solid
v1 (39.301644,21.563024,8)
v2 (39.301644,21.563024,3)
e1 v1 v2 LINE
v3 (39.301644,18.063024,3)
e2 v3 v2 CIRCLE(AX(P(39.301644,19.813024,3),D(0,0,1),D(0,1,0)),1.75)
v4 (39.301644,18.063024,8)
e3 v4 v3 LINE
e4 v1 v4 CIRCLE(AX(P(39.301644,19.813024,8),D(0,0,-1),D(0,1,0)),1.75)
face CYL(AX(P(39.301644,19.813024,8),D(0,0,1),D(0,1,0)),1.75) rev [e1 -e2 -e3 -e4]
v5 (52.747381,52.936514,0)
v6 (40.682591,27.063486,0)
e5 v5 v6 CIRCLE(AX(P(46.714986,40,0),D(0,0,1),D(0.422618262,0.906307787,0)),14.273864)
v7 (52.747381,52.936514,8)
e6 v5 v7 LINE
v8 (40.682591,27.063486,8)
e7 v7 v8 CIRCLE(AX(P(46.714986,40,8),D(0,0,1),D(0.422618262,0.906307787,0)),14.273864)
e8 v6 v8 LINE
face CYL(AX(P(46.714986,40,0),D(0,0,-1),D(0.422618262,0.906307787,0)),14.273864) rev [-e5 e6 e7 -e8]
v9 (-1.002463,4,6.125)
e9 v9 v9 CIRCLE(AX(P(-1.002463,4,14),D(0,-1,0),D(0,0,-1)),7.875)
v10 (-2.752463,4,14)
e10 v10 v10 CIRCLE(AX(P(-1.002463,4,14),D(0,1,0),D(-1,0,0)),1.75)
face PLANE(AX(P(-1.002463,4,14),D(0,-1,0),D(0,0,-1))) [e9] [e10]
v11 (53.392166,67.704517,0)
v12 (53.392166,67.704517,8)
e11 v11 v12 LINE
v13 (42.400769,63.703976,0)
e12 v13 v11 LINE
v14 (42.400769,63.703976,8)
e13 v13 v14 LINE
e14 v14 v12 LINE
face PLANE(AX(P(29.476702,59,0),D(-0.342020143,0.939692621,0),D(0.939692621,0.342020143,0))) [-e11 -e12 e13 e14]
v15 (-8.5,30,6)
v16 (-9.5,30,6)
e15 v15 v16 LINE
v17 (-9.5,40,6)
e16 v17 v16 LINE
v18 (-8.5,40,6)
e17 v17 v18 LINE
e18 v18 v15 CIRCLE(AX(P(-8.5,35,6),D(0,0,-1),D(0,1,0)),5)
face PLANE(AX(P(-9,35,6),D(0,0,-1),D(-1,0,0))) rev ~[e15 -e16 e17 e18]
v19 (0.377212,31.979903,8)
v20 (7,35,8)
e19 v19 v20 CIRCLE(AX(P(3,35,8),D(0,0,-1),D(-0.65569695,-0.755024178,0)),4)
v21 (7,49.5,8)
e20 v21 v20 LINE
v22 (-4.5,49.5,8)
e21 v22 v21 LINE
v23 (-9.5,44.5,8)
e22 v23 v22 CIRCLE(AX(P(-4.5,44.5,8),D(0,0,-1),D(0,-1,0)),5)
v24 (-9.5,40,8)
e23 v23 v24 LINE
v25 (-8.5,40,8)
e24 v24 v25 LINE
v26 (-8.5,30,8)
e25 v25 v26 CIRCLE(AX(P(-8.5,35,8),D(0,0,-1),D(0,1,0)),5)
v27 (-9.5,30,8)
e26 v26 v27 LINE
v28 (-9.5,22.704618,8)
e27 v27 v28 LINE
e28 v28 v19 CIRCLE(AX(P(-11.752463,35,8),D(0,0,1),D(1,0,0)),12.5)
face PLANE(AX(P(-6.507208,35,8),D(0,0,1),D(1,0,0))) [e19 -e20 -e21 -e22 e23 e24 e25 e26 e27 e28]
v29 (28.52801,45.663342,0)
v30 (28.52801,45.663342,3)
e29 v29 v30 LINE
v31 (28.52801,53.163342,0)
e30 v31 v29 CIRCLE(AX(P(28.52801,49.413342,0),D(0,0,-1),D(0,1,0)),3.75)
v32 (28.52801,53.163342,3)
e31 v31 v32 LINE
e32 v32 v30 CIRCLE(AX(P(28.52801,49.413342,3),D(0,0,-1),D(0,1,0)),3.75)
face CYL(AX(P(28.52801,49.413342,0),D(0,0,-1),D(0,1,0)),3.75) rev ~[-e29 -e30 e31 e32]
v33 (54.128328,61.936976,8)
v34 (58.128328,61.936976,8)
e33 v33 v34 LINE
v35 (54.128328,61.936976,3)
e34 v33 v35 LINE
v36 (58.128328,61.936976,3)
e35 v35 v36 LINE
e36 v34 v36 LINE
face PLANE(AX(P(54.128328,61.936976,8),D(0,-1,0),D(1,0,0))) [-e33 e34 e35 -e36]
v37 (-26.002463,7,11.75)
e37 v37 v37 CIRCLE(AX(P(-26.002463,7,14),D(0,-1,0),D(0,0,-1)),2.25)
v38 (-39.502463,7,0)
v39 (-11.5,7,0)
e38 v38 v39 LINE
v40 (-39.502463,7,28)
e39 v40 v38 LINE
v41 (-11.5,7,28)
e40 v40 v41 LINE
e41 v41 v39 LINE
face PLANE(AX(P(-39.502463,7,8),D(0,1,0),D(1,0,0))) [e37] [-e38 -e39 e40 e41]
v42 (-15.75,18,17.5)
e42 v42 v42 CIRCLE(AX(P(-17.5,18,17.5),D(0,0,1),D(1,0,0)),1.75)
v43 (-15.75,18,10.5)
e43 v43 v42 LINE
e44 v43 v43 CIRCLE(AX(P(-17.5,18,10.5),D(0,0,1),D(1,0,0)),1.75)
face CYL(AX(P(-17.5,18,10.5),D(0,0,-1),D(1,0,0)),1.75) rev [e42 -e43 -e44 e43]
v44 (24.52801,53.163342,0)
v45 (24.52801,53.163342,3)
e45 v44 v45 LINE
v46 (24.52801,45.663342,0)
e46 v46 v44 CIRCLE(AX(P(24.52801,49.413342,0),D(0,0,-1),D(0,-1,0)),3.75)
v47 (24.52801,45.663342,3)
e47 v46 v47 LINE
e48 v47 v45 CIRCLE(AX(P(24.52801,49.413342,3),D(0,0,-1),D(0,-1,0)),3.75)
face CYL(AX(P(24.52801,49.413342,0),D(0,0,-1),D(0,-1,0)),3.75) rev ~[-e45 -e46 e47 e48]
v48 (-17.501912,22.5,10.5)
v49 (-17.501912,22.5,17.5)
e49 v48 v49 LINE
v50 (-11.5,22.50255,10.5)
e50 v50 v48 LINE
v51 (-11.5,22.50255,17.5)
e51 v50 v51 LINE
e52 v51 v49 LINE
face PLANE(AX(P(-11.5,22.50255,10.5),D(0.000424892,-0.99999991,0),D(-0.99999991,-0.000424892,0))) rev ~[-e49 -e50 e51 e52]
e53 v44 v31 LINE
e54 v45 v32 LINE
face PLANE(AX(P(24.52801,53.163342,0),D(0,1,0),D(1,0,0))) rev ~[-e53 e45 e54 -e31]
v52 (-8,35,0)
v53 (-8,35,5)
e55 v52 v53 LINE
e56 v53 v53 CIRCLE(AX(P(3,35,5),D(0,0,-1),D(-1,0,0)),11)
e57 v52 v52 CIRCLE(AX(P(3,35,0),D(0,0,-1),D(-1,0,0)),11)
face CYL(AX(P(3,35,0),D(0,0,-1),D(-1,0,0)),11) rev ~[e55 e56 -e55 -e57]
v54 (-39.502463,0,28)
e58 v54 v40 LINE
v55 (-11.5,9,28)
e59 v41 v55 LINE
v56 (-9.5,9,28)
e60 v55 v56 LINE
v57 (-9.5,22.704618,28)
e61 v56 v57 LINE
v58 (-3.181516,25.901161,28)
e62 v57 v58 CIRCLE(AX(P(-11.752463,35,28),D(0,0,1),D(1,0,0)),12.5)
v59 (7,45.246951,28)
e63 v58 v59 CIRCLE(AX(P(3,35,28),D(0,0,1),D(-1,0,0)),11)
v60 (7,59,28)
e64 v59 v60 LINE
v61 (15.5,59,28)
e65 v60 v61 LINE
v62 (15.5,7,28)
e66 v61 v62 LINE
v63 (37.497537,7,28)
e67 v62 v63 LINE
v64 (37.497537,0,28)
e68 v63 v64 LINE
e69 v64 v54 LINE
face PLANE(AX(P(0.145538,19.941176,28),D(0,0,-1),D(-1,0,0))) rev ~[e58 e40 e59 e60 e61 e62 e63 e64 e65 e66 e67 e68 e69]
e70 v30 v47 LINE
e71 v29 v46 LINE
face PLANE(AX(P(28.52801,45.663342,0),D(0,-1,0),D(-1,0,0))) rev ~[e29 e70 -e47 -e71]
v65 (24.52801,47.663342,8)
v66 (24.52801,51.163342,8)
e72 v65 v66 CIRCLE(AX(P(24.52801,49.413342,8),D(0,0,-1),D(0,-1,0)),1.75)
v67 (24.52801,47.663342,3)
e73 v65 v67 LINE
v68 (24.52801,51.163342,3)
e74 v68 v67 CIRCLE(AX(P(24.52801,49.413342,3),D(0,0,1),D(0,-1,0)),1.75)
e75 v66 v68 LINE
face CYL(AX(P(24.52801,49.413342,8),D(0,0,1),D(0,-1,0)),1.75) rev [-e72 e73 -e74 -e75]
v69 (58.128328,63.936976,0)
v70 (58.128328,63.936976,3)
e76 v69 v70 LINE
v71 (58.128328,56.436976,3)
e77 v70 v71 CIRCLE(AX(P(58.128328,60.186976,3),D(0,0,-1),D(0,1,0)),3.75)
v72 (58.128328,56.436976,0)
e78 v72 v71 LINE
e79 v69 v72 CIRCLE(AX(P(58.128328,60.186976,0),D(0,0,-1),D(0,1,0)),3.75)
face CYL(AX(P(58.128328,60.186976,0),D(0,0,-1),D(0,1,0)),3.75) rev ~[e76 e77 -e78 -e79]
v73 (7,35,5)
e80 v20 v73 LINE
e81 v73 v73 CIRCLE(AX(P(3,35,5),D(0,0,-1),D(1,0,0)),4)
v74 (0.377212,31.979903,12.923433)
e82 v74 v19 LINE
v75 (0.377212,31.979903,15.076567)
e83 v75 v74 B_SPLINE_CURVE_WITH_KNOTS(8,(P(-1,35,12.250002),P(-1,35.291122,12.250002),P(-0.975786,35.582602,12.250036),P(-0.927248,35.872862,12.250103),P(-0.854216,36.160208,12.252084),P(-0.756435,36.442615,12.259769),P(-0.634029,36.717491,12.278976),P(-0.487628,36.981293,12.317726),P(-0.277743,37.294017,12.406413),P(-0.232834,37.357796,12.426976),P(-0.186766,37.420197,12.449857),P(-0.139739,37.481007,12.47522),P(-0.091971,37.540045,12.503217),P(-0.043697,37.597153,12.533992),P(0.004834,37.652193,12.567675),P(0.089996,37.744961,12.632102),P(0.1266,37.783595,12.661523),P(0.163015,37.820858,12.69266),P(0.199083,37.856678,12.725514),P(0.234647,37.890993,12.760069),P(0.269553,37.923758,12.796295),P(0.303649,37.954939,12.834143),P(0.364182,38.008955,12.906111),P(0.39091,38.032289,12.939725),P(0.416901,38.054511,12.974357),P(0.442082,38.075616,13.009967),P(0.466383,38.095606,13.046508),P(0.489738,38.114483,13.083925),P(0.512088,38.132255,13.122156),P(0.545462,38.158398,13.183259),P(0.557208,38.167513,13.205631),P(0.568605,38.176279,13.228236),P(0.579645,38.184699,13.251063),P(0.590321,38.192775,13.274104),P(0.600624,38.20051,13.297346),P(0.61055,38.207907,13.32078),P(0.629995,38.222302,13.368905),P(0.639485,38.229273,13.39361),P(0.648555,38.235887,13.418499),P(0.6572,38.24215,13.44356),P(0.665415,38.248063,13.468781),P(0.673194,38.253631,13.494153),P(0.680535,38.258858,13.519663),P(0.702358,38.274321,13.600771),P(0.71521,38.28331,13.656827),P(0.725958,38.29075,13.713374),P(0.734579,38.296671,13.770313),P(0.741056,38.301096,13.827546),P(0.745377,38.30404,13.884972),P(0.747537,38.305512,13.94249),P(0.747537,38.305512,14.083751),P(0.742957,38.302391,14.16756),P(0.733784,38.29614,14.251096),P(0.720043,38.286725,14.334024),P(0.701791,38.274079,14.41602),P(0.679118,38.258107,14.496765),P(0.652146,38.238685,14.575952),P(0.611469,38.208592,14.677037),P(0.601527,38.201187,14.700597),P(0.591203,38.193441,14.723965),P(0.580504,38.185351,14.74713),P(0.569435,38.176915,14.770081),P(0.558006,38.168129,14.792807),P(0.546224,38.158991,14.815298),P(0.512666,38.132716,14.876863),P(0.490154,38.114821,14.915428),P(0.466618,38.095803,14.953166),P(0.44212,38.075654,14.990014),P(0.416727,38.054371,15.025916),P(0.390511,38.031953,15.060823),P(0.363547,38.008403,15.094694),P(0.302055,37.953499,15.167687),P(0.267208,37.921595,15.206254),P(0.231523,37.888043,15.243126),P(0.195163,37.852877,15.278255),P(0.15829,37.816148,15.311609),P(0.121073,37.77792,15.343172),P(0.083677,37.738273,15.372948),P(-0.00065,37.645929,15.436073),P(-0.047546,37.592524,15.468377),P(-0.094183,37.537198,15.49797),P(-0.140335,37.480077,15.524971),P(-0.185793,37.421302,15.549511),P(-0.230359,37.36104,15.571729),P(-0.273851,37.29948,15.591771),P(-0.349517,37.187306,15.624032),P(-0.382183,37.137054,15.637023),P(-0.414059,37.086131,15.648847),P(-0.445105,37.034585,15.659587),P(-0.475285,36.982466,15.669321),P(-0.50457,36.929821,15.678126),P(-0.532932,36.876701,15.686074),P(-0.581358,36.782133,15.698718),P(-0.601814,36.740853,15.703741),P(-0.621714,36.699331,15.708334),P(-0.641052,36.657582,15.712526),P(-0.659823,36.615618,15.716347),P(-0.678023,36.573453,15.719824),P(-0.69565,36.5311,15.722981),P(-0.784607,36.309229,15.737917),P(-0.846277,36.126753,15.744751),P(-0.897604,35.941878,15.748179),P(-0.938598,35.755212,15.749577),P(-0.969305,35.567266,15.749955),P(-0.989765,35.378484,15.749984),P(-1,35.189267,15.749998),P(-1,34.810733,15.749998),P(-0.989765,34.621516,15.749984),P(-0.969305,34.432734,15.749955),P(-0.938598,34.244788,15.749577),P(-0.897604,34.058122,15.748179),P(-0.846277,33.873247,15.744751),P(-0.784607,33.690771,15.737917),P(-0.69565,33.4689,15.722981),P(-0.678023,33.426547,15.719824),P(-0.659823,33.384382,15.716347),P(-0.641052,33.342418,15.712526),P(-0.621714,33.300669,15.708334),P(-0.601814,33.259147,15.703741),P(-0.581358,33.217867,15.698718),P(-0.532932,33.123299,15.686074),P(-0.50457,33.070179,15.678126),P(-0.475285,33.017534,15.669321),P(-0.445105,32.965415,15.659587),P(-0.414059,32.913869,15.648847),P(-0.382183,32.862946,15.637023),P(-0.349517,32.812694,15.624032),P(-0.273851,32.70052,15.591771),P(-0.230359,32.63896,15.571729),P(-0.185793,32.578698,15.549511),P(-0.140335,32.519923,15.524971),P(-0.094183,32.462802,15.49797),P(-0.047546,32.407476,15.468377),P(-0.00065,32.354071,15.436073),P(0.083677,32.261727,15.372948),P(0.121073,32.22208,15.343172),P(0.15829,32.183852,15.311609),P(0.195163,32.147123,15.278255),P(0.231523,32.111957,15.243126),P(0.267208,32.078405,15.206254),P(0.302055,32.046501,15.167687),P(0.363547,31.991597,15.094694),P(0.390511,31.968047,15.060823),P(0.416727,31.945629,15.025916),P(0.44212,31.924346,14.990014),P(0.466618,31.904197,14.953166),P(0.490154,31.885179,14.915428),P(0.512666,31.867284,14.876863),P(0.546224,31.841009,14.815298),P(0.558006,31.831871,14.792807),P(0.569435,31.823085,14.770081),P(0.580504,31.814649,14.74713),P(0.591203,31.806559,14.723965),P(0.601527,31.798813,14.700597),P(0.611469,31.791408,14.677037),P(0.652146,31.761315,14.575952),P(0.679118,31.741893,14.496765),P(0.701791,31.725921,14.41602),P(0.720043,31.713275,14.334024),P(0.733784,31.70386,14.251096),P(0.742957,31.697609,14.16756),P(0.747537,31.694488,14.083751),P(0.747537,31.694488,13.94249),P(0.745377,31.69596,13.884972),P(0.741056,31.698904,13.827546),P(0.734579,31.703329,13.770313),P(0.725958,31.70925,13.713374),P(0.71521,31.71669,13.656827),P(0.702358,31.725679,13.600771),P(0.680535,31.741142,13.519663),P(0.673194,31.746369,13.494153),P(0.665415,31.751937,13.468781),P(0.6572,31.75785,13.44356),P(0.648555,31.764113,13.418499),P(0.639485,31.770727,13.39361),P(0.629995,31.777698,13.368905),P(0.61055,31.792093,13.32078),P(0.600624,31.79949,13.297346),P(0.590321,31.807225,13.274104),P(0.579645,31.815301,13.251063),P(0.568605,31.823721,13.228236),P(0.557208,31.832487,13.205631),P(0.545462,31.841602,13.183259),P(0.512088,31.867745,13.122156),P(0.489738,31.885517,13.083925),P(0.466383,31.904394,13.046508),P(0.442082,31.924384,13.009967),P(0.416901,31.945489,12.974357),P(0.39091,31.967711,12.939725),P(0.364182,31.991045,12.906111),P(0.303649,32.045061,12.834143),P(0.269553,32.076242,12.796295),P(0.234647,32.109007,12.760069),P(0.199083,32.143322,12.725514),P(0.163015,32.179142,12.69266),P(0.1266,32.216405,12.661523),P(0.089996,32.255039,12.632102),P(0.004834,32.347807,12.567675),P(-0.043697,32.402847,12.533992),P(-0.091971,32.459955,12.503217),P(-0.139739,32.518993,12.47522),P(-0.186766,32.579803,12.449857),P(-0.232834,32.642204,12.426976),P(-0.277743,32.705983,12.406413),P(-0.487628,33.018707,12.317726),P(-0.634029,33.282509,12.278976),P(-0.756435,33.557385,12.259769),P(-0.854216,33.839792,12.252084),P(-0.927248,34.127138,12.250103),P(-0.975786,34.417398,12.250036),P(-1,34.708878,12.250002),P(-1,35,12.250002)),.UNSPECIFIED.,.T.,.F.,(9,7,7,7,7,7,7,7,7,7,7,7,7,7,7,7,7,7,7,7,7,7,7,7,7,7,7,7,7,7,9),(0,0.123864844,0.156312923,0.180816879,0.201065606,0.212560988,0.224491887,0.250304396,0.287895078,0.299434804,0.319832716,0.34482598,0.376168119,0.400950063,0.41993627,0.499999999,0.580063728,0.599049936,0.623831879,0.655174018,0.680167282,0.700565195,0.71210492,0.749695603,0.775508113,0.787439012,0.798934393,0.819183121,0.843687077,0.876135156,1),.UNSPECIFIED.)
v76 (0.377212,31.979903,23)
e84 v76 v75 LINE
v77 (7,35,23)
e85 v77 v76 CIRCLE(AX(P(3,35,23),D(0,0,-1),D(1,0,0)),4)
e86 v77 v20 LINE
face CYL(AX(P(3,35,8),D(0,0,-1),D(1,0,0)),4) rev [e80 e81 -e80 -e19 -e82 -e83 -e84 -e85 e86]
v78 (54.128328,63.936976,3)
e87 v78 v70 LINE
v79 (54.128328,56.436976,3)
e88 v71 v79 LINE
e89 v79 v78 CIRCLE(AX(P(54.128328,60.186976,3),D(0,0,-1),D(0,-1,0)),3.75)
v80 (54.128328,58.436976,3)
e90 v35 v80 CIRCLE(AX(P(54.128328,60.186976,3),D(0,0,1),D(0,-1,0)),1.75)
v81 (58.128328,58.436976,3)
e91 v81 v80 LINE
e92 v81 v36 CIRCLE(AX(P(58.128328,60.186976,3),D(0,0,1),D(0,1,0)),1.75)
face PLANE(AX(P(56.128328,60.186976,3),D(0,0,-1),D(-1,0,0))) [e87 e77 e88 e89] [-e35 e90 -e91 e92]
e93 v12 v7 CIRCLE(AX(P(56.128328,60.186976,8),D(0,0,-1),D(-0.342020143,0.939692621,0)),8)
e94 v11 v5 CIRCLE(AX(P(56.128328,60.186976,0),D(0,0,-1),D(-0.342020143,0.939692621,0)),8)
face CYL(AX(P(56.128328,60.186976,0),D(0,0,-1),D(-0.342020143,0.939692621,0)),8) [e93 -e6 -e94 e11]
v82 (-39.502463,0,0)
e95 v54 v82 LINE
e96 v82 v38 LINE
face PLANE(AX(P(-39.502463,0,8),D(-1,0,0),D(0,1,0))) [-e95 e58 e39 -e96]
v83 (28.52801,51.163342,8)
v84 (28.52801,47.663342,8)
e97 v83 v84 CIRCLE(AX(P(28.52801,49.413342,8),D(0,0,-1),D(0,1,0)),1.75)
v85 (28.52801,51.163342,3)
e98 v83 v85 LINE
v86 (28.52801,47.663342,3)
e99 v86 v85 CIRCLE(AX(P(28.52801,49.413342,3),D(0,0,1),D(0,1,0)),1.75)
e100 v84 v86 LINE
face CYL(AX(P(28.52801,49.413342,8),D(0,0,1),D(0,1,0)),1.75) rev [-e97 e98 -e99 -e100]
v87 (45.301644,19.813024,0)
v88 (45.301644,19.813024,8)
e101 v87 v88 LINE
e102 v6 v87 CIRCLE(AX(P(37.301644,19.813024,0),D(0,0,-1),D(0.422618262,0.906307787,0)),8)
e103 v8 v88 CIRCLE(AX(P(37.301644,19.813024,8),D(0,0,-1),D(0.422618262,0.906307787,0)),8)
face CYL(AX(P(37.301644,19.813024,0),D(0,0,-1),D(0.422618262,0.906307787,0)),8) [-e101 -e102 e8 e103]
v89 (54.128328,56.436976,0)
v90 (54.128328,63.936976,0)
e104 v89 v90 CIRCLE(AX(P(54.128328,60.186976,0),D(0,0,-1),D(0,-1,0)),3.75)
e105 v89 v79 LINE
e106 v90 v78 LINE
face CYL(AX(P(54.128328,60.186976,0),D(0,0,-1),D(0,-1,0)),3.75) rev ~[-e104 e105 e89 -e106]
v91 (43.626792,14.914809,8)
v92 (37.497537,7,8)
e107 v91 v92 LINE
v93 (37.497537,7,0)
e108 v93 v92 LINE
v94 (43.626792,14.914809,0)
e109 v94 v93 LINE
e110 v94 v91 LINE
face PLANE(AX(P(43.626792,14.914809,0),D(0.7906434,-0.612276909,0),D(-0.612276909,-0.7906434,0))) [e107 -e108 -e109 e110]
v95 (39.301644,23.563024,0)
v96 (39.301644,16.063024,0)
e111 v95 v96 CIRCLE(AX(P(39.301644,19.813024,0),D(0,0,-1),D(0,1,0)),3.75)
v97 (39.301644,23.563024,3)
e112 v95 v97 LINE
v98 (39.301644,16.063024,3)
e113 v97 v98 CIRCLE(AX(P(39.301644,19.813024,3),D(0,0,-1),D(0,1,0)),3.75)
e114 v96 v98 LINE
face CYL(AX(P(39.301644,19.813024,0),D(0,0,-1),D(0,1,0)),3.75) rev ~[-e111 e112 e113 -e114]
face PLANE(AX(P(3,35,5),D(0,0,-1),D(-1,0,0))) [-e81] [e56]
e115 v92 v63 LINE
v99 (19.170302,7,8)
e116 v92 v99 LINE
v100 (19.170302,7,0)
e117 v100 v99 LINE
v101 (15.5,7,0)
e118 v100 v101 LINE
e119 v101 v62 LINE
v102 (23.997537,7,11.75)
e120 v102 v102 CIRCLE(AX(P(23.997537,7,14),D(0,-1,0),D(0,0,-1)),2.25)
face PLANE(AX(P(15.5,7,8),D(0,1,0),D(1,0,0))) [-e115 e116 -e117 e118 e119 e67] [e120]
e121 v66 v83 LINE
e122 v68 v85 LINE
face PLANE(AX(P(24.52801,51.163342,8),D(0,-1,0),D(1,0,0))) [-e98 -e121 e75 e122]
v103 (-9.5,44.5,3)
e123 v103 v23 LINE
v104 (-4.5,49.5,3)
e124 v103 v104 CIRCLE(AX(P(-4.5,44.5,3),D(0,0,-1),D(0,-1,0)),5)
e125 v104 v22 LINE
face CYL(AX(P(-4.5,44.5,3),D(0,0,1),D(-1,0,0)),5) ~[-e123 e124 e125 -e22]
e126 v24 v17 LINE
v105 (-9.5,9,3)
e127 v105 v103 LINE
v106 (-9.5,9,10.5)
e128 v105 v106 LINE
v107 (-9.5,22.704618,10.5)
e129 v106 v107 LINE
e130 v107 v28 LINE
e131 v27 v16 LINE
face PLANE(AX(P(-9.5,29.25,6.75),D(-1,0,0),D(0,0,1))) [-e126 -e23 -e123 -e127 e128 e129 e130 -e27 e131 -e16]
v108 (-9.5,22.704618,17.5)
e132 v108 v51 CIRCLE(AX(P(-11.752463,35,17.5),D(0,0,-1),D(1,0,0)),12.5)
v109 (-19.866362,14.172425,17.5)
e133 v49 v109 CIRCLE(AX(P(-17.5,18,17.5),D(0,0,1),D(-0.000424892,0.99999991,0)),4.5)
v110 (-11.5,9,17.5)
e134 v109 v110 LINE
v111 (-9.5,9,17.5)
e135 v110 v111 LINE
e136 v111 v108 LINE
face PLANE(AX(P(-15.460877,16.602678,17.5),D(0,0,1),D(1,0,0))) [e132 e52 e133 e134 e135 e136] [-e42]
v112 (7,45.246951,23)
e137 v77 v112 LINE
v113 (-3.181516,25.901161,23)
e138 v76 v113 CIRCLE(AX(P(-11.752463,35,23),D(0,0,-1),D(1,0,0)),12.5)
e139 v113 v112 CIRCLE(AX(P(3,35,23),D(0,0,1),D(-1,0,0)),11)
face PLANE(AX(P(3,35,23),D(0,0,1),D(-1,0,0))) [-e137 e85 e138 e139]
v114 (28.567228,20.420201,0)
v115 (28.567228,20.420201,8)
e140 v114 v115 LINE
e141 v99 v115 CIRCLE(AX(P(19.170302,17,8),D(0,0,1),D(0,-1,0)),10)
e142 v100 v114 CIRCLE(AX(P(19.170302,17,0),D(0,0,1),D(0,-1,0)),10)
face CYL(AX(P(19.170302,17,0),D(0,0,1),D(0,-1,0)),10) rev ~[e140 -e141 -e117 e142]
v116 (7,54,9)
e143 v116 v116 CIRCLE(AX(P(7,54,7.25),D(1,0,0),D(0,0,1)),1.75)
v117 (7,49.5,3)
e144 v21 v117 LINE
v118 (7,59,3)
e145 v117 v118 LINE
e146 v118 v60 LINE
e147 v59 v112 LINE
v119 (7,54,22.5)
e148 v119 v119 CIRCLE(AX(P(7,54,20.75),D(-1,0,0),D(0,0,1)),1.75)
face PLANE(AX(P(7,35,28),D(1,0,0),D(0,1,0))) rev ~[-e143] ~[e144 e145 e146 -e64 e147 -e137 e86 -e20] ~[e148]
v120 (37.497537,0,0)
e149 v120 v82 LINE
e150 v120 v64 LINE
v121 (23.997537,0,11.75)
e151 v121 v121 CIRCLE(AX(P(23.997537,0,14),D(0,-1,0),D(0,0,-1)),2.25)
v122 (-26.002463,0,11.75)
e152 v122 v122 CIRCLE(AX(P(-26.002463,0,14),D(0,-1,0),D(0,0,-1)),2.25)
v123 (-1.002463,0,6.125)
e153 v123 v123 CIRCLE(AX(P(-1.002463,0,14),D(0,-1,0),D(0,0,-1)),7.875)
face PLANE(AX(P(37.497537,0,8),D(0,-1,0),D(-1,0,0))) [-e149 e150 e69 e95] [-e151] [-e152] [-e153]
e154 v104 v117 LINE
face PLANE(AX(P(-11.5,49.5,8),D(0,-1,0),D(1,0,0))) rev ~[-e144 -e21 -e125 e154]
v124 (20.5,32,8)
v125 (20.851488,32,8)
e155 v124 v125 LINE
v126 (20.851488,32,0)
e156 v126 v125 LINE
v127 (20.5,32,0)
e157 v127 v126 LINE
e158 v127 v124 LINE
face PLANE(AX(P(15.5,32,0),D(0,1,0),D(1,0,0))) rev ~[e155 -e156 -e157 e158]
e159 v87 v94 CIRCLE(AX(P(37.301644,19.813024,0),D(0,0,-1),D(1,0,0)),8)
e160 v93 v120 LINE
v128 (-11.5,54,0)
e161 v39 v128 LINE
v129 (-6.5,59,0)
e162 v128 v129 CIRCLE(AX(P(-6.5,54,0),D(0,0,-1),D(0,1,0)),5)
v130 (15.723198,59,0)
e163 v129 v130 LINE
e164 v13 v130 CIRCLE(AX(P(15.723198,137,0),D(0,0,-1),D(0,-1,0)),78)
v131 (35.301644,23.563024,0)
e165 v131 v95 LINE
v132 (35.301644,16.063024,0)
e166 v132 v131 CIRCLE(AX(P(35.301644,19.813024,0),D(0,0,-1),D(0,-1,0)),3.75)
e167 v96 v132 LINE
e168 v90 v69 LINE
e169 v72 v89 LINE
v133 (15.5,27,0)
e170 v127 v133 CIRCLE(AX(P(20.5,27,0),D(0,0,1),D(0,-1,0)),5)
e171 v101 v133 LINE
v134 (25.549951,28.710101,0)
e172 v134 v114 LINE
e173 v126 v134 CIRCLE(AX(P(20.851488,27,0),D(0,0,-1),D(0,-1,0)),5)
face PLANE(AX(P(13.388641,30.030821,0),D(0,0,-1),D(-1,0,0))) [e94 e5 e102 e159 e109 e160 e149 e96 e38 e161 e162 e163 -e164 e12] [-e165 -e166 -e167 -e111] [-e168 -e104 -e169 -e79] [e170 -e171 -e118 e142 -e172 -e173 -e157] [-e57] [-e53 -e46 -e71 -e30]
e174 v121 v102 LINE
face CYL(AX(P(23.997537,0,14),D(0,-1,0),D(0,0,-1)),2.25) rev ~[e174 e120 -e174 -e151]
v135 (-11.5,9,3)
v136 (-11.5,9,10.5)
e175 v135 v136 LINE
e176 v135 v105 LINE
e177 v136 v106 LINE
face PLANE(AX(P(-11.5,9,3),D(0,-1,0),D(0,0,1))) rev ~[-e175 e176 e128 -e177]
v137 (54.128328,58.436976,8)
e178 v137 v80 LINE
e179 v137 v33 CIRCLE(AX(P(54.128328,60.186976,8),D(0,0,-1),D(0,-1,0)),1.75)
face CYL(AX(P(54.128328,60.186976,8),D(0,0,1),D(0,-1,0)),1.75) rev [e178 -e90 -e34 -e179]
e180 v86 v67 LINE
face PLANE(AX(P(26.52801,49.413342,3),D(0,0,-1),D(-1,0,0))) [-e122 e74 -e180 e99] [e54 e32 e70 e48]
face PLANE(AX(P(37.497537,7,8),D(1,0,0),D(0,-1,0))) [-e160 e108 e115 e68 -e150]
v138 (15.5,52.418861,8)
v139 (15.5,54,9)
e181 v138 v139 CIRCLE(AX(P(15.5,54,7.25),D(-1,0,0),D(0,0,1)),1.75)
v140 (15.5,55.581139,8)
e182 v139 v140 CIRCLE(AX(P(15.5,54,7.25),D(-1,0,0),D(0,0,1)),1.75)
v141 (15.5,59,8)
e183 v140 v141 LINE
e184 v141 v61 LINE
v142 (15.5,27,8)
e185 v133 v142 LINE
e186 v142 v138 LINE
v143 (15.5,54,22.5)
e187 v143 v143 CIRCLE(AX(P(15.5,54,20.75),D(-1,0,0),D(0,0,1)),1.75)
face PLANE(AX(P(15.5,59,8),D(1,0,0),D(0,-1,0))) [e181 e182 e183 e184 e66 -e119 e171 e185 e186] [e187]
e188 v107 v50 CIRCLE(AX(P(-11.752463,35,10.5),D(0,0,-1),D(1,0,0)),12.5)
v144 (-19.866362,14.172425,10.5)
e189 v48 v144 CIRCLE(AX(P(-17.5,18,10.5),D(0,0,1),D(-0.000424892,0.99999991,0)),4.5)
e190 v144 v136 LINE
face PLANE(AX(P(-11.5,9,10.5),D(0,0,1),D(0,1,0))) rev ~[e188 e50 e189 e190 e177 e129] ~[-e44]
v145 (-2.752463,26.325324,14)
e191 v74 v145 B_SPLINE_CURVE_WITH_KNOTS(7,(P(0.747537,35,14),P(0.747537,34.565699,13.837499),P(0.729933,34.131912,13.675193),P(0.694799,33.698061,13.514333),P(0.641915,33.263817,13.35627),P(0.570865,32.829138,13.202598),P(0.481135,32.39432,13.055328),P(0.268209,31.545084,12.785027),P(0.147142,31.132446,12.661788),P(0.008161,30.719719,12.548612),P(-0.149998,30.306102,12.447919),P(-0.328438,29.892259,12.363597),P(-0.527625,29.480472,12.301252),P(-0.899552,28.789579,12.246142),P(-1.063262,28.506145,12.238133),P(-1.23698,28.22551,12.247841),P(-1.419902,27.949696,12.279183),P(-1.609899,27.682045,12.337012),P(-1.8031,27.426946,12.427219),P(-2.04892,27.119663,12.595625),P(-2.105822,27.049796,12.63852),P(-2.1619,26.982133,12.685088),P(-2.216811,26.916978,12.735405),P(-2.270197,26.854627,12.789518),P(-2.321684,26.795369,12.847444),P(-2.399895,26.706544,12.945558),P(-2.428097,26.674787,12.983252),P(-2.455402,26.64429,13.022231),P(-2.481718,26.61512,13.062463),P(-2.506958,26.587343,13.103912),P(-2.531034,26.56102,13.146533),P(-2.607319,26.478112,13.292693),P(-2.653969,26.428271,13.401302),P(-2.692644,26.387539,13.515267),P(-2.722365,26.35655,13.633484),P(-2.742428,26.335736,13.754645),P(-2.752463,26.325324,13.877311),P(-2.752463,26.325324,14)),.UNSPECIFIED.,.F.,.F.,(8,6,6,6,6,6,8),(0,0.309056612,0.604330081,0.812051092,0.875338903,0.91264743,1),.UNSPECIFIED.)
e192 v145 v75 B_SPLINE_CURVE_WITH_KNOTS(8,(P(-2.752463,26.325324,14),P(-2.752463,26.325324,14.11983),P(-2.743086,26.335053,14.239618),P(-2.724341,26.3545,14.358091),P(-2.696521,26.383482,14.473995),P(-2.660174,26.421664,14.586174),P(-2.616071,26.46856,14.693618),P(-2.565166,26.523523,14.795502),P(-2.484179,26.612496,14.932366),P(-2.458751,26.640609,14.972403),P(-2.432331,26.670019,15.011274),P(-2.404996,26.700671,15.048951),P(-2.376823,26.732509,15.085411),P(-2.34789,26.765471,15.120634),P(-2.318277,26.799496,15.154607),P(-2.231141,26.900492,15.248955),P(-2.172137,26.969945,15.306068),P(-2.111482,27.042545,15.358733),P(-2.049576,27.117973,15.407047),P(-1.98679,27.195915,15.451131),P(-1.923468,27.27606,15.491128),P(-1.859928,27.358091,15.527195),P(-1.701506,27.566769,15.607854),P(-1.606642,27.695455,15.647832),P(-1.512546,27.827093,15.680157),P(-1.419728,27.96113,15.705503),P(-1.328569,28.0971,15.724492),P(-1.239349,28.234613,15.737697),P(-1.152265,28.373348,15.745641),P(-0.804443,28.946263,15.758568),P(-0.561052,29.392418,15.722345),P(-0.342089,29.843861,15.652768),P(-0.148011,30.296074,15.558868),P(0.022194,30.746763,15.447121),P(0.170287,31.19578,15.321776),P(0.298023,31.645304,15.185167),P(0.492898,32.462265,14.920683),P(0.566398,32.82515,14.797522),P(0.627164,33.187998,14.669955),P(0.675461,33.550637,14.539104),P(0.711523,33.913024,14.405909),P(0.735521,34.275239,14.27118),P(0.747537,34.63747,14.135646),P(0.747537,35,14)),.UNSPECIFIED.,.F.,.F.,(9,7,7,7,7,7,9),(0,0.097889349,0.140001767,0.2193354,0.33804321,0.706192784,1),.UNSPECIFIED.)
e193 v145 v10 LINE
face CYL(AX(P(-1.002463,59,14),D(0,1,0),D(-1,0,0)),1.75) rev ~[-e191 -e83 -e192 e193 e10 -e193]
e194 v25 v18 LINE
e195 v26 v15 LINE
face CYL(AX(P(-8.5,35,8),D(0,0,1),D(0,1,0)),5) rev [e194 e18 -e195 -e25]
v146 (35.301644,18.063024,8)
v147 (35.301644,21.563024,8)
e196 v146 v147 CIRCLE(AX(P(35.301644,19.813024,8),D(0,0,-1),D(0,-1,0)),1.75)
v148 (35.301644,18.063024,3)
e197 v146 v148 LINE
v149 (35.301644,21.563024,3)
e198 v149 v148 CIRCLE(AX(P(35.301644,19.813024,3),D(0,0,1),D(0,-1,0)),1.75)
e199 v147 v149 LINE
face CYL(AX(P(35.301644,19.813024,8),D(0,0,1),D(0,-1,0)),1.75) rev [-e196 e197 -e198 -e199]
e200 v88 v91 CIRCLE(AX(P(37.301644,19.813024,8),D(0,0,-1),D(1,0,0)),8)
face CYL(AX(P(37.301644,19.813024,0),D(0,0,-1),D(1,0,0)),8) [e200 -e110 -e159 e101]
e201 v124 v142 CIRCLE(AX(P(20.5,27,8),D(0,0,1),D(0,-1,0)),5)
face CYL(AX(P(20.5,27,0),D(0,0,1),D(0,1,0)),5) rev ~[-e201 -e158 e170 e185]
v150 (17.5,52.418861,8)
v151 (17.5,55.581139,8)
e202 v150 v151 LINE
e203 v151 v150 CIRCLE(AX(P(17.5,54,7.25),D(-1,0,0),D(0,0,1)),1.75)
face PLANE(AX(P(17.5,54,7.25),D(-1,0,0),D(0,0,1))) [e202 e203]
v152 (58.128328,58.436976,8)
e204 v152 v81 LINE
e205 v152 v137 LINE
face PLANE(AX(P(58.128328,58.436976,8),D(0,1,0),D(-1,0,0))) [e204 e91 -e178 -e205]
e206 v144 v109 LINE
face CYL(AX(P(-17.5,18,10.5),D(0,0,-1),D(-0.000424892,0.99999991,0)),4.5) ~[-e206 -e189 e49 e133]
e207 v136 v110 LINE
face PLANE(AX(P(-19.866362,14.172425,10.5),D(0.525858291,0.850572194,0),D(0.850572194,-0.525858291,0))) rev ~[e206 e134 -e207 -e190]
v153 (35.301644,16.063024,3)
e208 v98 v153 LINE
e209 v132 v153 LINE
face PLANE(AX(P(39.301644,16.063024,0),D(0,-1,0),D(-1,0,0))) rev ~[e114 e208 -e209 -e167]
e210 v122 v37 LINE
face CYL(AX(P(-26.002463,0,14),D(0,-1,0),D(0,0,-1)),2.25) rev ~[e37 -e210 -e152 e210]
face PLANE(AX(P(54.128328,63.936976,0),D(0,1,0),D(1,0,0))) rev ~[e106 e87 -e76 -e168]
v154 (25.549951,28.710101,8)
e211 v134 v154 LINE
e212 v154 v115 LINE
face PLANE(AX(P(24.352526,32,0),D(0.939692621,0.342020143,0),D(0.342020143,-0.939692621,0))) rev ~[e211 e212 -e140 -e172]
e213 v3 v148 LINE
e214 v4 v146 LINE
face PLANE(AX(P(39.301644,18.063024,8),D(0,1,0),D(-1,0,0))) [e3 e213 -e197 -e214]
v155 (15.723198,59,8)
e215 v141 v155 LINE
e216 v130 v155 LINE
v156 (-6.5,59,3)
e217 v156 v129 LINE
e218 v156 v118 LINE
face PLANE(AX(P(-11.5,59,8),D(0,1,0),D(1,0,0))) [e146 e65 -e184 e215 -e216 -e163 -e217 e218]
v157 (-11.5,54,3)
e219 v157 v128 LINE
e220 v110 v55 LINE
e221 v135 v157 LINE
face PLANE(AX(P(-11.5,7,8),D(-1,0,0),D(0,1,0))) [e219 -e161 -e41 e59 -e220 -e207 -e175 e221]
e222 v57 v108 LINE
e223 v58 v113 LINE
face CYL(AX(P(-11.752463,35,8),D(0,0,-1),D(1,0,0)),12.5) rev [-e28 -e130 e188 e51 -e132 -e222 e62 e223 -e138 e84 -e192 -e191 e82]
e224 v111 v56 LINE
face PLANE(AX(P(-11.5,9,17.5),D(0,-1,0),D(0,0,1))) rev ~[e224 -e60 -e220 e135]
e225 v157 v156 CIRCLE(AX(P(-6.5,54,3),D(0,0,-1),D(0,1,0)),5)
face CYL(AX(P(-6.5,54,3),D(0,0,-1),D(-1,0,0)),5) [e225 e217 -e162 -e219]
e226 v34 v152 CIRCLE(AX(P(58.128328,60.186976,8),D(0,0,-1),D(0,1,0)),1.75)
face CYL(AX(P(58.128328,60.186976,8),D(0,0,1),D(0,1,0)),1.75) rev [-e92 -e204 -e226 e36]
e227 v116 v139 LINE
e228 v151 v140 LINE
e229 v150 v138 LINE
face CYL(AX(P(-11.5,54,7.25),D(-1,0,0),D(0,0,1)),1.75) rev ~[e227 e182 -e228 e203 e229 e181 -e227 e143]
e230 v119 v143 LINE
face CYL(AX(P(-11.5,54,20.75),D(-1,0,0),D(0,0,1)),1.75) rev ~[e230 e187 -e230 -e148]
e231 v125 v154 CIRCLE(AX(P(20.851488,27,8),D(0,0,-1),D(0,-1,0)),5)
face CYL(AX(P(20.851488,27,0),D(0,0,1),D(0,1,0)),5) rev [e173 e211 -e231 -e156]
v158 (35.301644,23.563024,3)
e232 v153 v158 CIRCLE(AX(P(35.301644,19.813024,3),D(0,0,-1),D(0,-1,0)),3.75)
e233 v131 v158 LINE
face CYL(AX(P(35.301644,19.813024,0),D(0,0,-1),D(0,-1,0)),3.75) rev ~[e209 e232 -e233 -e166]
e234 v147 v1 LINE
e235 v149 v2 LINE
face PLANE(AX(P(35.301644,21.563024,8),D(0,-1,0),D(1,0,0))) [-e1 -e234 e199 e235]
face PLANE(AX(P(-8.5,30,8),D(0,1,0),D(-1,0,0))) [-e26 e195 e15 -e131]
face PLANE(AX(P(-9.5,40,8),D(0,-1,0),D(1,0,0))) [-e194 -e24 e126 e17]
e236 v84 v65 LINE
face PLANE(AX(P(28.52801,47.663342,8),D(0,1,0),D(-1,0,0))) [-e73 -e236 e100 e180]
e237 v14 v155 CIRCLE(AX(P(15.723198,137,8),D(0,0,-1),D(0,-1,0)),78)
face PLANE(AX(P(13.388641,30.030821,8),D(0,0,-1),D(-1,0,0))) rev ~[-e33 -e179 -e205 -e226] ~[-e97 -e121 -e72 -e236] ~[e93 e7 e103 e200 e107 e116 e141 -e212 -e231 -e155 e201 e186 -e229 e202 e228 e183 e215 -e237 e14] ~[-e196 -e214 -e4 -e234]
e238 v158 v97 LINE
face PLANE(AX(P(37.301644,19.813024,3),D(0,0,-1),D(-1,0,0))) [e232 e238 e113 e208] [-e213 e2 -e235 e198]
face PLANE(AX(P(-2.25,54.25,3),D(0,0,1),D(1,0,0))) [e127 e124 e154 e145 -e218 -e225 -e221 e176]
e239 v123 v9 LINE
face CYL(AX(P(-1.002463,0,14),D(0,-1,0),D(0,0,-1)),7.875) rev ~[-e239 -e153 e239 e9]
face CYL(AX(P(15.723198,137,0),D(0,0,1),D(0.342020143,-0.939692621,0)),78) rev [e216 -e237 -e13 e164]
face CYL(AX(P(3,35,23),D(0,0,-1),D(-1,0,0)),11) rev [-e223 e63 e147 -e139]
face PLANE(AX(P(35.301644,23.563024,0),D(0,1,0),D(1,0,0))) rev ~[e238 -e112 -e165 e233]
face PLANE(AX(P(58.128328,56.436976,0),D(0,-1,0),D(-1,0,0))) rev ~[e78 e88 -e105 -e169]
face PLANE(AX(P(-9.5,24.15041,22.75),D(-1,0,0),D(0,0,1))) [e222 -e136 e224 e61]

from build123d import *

# Parameters (mm, degrees)
SKETCH5_R                = 4
BOSS_EXTRUDE1_DEPTH      = 8
SKETCH6_R                = 4
BOSS_EXTRUDE2_DEPTH      = 20
SKETCH7_R                = 7.875
CUT_EXTRUDE1_DEPTH       = 4
SKETCH8_R                = 1.75
CUT_EXTRUDE2_DEPTH       = 64
SKETCH9_R                = 2.25
CUT_EXTRUDE3_DEPTH       = 64
FILLET1_R                = 10
FILLET2_R                = 78
FILLET3_R                = 5
SKETCH10_R               = 11
CUT_EXTRUDE4_DEPTH       = 5
CUT_EXTRUDE5_START       = -5
SKETCH11_R               = 11
CUT_EXTRUDE5_DEPTH       = 5
SKETCH13_R               = 1.75
CUT_EXTRUDE7_DEPTH       = 29
FILLET4_R                = 5
CUT_EXTRUDE8_DEPTH       = 29
CUT_EXTRUDE9_DEPTH       = 3
CUT_EXTRUDE10_START      = -20
SKETCH18_R               = 12.5
CUT_EXTRUDE10_DEPTH      = 20
BOSS_EXTRUDE3_DEPTH      = 3.5
BOSS_EXTRUDE3_DEPTH_BACK = 3.5
SKETCH19_R               = 1.75
CUT_EXTRUDE11_REACH      = 99.703
SKETCH20_W               = 18.5
SKETCH20_H               = 24
SKETCH21_W               = 18.5
SKETCH21_H               = 9.5
CUT_EXTRUDE12_DEPTH      = 5
SKETCH22_W               = 7.5
SKETCH22_H               = 40.5
SKETCH22_W_2             = 10.5
SKETCH22_H_2             = 30.300820781
CUT_EXTRUDE13_DEPTH      = 2
FILLET5_R                = 5
CUT_EXTRUDE14_DEPTH      = 2


with BuildPart() as part:
    # Sketch5 → Boss-Extrude1 (new body)
    with BuildSketch(Plane.XY):
        with BuildLine():
            Line((37.49753719, 0), (-39.50246281, 0))
            Line((-39.50246281, 0), (-39.50246281, 7))
            Line((-39.50246281, 7), (-11.5, 7))
            Line((-11.5, 7), (-11.5, 59))
            Line((-11.5, 59), (29.476702455, 59))
            Line((29.476702455, 59), (53.392166362, 67.704517001))
            ThreePointArc((53.392166362, 67.704517001), (64.120713281, 59.838020936), (52.747381415, 52.936513738))
            ThreePointArc((52.747381415, 52.936513738), (33.77847225, 46.032395426), (40.682590563, 27.063486262))
            ThreePointArc((40.682590563, 27.063486262), (44.048776035, 24.111420832), (45.301644469, 19.813023965))
            ThreePointArc((45.301644469, 19.813023965), (44.871359708, 17.224701884), (43.62679167, 14.91480869))
            Line((43.62679167, 14.91480869), (37.49753719, 7))
            Line((37.49753719, 7), (37.49753719, 0))
        make_face()
        with Locations((3, 35)):
            Circle(SKETCH5_R, mode=Mode.SUBTRACT)
        Polygon((15.5, 7), (15.5, 32), (24.352525767, 32), (33.451781623, 7), align=None, mode=Mode.SUBTRACT)
    extrude(amount=BOSS_EXTRUDE1_DEPTH)

    # Sketch6 → Boss-Extrude2 (add)
    with BuildSketch(Plane.XY.offset(8)):
        Polygon((37.49753719, 0), (-39.50246281, 0), (-39.50246281, 7), (-11.5, 7), (-11.5, 59), (15.5, 59), (15.5, 7), (37.49753719, 7), align=None)
        with Locations((3, 35)):
            Circle(SKETCH6_R, mode=Mode.SUBTRACT)
    extrude(amount=BOSS_EXTRUDE2_DEPTH)

    # Sketch7 → Cut-Extrude1 (cut)
    with BuildSketch(Plane.XZ):
        with Locations(Location((-1.00246281, 14, 0), (0, 0, 270))):
            Circle(SKETCH7_R)
    extrude(amount=-CUT_EXTRUDE1_DEPTH, mode=Mode.SUBTRACT)

    # Sketch8 → Cut-Extrude2 (cut)
    with BuildSketch(Plane(origin=(0, 59, 0), x_dir=(1, 0, 0), z_dir=(0, 1, 0))):
        with Locations(Location((-1.00246281, -14, 0), (0, 0, 180))):
            Circle(SKETCH8_R)
    extrude(amount=-CUT_EXTRUDE2_DEPTH, mode=Mode.SUBTRACT)

    # Sketch9 → Cut-Extrude3 (cut)
    with BuildSketch(Plane.XZ):
        with Locations(Location((23.99753719, 14, 0), (0, 0, 270))):
            Circle(SKETCH9_R)
        with Locations(Location((-26.00246281, 14, 0), (0, 0, 270))):
            Circle(SKETCH9_R)
    extrude(amount=-CUT_EXTRUDE3_DEPTH, mode=Mode.SUBTRACT)

    # Fillet1
    fillet1_edges = [part.edges().sort_by_distance(p)[0] for p in [
        (33.451781623, 7, 4),
    ]]
    fillet(fillet1_edges, radius=FILLET1_R)

    # Fillet2
    fillet2_edges = [part.edges().sort_by_distance(p)[0] for p in [
        (29.476702455, 59, 4),
    ]]
    fillet(fillet2_edges, radius=FILLET2_R)

    # Fillet3
    fillet3_edges = [part.edges().sort_by_distance(p)[0] for p in [
        (15.5, 32, 4),
    ]]
    fillet(fillet3_edges, radius=FILLET3_R)

    # Sketch10 → Cut-Extrude4 (cut)
    with BuildSketch(Plane(origin=(0, 0, 0), x_dir=(-1, 0, 0), z_dir=(0, 0, -1))):
        with Locations((-3, 35)):
            Circle(SKETCH10_R)
    extrude(amount=-CUT_EXTRUDE4_DEPTH, mode=Mode.SUBTRACT)

    # Sketch11 → Cut-Extrude5 (cut)
    with BuildSketch(Plane.XY.offset(28).offset(CUT_EXTRUDE5_START)):
        with Locations(Location((3, 35, 0), (0, 0, 180))):
            Circle(SKETCH11_R)
    extrude(amount=CUT_EXTRUDE5_DEPTH, mode=Mode.SUBTRACT)

    # Sketch13 → Cut-Extrude7 (cut)
    with BuildSketch(Plane.ZY.offset(11.5)):
        with Locations((20.75, 54)):
            Circle(SKETCH13_R)
        with Locations((7.25, 54)):
            Circle(SKETCH13_R)
    extrude(amount=-CUT_EXTRUDE7_DEPTH, mode=Mode.SUBTRACT)

    # Fillet4
    fillet4_edges = [part.edges().sort_by_distance(p)[0] for p in [
        (24.352525767, 32, 4),
    ]]
    fillet(fillet4_edges, radius=FILLET4_R)

    # Sketch14 → Cut-Extrude8 (cut)
    with BuildSketch(Plane.XY.offset(8)):
        with BuildLine():
            Line((58.128327509, 58.436976035), (54.128327509, 58.436976035))
            ThreePointArc((54.128327509, 58.436976035), (52.378327509, 60.186976035), (54.128327509, 61.936976035))
            Line((54.128327509, 61.936976035), (58.128327509, 61.936976035))
            ThreePointArc((58.128327509, 61.936976035), (59.878327509, 60.186976035), (58.128327509, 58.436976035))
        make_face()
        with BuildLine():
            Line((39.301644469, 18.063023965), (35.301644469, 18.063023965))
            ThreePointArc((35.301644469, 18.063023965), (33.551644469, 19.813023965), (35.301644469, 21.563023965))
            Line((35.301644469, 21.563023965), (39.301644469, 21.563023965))
            ThreePointArc((39.301644469, 21.563023965), (41.051644469, 19.813023965), (39.301644469, 18.063023965))
        make_face()
        with BuildLine():
            Line((28.528009954, 47.66334152), (24.528009954, 47.66334152))
            ThreePointArc((24.528009954, 47.66334152), (22.778009954, 49.41334152), (24.528009954, 51.16334152))
            Line((24.528009954, 51.16334152), (28.528009954, 51.16334152))
            ThreePointArc((28.528009954, 51.16334152), (30.278009954, 49.41334152), (28.528009954, 47.66334152))
        make_face()
    extrude(amount=-CUT_EXTRUDE8_DEPTH, mode=Mode.SUBTRACT)

    # Sketch15 → Cut-Extrude9 (cut)
    with BuildSketch(Plane(origin=(0, 0, 0), x_dir=(-1, 0, 0), z_dir=(0, 0, -1))):
        with BuildLine():
            Line((-39.301644469, 16.063023965), (-35.301644469, 16.063023965))
            ThreePointArc((-35.301644469, 16.063023965), (-31.551644469, 19.813023965), (-35.301644469, 23.563023965))
            Line((-35.301644469, 23.563023965), (-39.301644469, 23.563023965))
            ThreePointArc((-39.301644469, 23.563023965), (-43.051644469, 19.813023965), (-39.301644469, 16.063023965))
        make_face()
        with BuildLine():
            Line((-24.528009954, 53.16334152), (-28.528009954, 53.16334152))
            ThreePointArc((-28.528009954, 53.16334152), (-32.278009954, 49.41334152), (-28.528009954, 45.66334152))
            Line((-28.528009954, 45.66334152), (-24.528009954, 45.66334152))
            ThreePointArc((-24.528009954, 45.66334152), (-20.778009954, 49.41334152), (-24.528009954, 53.16334152))
        make_face()
        with BuildLine():
            Line((-54.128327509, 63.936976035), (-58.128327509, 63.936976035))
            ThreePointArc((-58.128327509, 63.936976035), (-61.878327509, 60.186976035), (-58.128327509, 56.436976035))
            Line((-58.128327509, 56.436976035), (-54.128327509, 56.436976035))
            ThreePointArc((-54.128327509, 56.436976035), (-50.378327509, 60.186976035), (-54.128327509, 63.936976035))
        make_face()
    extrude(amount=-CUT_EXTRUDE9_DEPTH, mode=Mode.SUBTRACT)

    # Sketch18 → Cut-Extrude10 (cut)
    with BuildSketch(Plane.XY.offset(28).offset(CUT_EXTRUDE10_START)):
        with Locations((-11.75246281, 35)):
            Circle(SKETCH18_R)
    extrude(amount=CUT_EXTRUDE10_DEPTH, mode=Mode.SUBTRACT)

    # Sketch19 → Boss-Extrude3 (add, two sides: drawn at the far end of the back side and taken through both)
    with BuildSketch(Plane.XY.offset(14).offset(-BOSS_EXTRUDE3_DEPTH_BACK)):
        with BuildLine():
            Line((-19.866362311, 14.172425126), (-11.5, 9))
            Line((-11.5, 9), (-11.5, 22.502549759))
            Line((-11.5, 22.502549759), (-17.501912014, 22.499999594))
            ThreePointArc((-17.501912014, 22.499999594), (-21.828891885, 19.229103353), (-19.866362311, 14.172425126))
        make_face()
        with Locations((-17.5, 18)):
            Circle(SKETCH19_R, mode=Mode.SUBTRACT)
    extrude(amount=BOSS_EXTRUDE3_DEPTH + BOSS_EXTRUDE3_DEPTH_BACK)

    # Cut-Extrude11: up to this face of the body (flat: up to its plane)
    cut_extrude11_end = Plane(part.part.faces().sort_by_distance((-6.507208391, 35, 8))[0])
    # Sketch20 → Cut-Extrude11 (cut, up to the picked face)
    with BuildSketch(Plane.XY.offset(28), mode=Mode.PRIVATE) as cut_extrude11_sk1:
        with Locations((-2.25, 47)):
            Rectangle(SKETCH20_W, SKETCH20_H)
    cut_extrude11_tool1 = split(extrude(cut_extrude11_sk1.sketch, amount=-CUT_EXTRUDE11_REACH, mode=Mode.PRIVATE), bisect_by=cut_extrude11_end, keep=Keep.BOTH, mode=Mode.PRIVATE)
    add(cut_extrude11_tool1.solids().sort_by(Axis((-2.25, 47, 28), (0, 0, -1)))[0], mode=Mode.SUBTRACT)

    # Sketch21 → Cut-Extrude12 (cut)
    with BuildSketch(Plane.XY.offset(8)):
        with Locations((-2.25, 54.25)):
            Rectangle(SKETCH21_W, SKETCH21_H)
    extrude(amount=-CUT_EXTRUDE12_DEPTH, mode=Mode.SUBTRACT)

    # Sketch22 → Cut-Extrude13 (cut)
    with BuildSketch(Plane.ZY.offset(11.5)):
        with Locations((6.75, 29.25)):
            Rectangle(SKETCH22_W, SKETCH22_H)
        with Locations((22.75, 24.150410391)):
            Rectangle(SKETCH22_W_2, SKETCH22_H_2)
    extrude(amount=-CUT_EXTRUDE13_DEPTH, mode=Mode.SUBTRACT)

    # Fillet5
    fillet5_edges = [part.edges().sort_by_distance(p)[0] for p in [
        (-11.5, 59, 1.5),
        (-9.5, 49.5, 5.5),
    ]]
    fillet(fillet5_edges, radius=FILLET5_R)

    # Sketch23 → Cut-Extrude14 (cut)
    with BuildSketch(Plane.XY.offset(8)):
        with BuildLine():
            Line((-9.5, 40), (-8.5, 40))
            ThreePointArc((-8.5, 40), (-3.5, 35), (-8.5, 30))
            Line((-8.5, 30), (-9.5, 30))
            ThreePointArc((-9.5, 30), (-14.5, 35), (-9.5, 40))
        make_face()
    extrude(amount=-CUT_EXTRUDE14_DEPTH, mode=Mode.SUBTRACT)


solid = part.part
